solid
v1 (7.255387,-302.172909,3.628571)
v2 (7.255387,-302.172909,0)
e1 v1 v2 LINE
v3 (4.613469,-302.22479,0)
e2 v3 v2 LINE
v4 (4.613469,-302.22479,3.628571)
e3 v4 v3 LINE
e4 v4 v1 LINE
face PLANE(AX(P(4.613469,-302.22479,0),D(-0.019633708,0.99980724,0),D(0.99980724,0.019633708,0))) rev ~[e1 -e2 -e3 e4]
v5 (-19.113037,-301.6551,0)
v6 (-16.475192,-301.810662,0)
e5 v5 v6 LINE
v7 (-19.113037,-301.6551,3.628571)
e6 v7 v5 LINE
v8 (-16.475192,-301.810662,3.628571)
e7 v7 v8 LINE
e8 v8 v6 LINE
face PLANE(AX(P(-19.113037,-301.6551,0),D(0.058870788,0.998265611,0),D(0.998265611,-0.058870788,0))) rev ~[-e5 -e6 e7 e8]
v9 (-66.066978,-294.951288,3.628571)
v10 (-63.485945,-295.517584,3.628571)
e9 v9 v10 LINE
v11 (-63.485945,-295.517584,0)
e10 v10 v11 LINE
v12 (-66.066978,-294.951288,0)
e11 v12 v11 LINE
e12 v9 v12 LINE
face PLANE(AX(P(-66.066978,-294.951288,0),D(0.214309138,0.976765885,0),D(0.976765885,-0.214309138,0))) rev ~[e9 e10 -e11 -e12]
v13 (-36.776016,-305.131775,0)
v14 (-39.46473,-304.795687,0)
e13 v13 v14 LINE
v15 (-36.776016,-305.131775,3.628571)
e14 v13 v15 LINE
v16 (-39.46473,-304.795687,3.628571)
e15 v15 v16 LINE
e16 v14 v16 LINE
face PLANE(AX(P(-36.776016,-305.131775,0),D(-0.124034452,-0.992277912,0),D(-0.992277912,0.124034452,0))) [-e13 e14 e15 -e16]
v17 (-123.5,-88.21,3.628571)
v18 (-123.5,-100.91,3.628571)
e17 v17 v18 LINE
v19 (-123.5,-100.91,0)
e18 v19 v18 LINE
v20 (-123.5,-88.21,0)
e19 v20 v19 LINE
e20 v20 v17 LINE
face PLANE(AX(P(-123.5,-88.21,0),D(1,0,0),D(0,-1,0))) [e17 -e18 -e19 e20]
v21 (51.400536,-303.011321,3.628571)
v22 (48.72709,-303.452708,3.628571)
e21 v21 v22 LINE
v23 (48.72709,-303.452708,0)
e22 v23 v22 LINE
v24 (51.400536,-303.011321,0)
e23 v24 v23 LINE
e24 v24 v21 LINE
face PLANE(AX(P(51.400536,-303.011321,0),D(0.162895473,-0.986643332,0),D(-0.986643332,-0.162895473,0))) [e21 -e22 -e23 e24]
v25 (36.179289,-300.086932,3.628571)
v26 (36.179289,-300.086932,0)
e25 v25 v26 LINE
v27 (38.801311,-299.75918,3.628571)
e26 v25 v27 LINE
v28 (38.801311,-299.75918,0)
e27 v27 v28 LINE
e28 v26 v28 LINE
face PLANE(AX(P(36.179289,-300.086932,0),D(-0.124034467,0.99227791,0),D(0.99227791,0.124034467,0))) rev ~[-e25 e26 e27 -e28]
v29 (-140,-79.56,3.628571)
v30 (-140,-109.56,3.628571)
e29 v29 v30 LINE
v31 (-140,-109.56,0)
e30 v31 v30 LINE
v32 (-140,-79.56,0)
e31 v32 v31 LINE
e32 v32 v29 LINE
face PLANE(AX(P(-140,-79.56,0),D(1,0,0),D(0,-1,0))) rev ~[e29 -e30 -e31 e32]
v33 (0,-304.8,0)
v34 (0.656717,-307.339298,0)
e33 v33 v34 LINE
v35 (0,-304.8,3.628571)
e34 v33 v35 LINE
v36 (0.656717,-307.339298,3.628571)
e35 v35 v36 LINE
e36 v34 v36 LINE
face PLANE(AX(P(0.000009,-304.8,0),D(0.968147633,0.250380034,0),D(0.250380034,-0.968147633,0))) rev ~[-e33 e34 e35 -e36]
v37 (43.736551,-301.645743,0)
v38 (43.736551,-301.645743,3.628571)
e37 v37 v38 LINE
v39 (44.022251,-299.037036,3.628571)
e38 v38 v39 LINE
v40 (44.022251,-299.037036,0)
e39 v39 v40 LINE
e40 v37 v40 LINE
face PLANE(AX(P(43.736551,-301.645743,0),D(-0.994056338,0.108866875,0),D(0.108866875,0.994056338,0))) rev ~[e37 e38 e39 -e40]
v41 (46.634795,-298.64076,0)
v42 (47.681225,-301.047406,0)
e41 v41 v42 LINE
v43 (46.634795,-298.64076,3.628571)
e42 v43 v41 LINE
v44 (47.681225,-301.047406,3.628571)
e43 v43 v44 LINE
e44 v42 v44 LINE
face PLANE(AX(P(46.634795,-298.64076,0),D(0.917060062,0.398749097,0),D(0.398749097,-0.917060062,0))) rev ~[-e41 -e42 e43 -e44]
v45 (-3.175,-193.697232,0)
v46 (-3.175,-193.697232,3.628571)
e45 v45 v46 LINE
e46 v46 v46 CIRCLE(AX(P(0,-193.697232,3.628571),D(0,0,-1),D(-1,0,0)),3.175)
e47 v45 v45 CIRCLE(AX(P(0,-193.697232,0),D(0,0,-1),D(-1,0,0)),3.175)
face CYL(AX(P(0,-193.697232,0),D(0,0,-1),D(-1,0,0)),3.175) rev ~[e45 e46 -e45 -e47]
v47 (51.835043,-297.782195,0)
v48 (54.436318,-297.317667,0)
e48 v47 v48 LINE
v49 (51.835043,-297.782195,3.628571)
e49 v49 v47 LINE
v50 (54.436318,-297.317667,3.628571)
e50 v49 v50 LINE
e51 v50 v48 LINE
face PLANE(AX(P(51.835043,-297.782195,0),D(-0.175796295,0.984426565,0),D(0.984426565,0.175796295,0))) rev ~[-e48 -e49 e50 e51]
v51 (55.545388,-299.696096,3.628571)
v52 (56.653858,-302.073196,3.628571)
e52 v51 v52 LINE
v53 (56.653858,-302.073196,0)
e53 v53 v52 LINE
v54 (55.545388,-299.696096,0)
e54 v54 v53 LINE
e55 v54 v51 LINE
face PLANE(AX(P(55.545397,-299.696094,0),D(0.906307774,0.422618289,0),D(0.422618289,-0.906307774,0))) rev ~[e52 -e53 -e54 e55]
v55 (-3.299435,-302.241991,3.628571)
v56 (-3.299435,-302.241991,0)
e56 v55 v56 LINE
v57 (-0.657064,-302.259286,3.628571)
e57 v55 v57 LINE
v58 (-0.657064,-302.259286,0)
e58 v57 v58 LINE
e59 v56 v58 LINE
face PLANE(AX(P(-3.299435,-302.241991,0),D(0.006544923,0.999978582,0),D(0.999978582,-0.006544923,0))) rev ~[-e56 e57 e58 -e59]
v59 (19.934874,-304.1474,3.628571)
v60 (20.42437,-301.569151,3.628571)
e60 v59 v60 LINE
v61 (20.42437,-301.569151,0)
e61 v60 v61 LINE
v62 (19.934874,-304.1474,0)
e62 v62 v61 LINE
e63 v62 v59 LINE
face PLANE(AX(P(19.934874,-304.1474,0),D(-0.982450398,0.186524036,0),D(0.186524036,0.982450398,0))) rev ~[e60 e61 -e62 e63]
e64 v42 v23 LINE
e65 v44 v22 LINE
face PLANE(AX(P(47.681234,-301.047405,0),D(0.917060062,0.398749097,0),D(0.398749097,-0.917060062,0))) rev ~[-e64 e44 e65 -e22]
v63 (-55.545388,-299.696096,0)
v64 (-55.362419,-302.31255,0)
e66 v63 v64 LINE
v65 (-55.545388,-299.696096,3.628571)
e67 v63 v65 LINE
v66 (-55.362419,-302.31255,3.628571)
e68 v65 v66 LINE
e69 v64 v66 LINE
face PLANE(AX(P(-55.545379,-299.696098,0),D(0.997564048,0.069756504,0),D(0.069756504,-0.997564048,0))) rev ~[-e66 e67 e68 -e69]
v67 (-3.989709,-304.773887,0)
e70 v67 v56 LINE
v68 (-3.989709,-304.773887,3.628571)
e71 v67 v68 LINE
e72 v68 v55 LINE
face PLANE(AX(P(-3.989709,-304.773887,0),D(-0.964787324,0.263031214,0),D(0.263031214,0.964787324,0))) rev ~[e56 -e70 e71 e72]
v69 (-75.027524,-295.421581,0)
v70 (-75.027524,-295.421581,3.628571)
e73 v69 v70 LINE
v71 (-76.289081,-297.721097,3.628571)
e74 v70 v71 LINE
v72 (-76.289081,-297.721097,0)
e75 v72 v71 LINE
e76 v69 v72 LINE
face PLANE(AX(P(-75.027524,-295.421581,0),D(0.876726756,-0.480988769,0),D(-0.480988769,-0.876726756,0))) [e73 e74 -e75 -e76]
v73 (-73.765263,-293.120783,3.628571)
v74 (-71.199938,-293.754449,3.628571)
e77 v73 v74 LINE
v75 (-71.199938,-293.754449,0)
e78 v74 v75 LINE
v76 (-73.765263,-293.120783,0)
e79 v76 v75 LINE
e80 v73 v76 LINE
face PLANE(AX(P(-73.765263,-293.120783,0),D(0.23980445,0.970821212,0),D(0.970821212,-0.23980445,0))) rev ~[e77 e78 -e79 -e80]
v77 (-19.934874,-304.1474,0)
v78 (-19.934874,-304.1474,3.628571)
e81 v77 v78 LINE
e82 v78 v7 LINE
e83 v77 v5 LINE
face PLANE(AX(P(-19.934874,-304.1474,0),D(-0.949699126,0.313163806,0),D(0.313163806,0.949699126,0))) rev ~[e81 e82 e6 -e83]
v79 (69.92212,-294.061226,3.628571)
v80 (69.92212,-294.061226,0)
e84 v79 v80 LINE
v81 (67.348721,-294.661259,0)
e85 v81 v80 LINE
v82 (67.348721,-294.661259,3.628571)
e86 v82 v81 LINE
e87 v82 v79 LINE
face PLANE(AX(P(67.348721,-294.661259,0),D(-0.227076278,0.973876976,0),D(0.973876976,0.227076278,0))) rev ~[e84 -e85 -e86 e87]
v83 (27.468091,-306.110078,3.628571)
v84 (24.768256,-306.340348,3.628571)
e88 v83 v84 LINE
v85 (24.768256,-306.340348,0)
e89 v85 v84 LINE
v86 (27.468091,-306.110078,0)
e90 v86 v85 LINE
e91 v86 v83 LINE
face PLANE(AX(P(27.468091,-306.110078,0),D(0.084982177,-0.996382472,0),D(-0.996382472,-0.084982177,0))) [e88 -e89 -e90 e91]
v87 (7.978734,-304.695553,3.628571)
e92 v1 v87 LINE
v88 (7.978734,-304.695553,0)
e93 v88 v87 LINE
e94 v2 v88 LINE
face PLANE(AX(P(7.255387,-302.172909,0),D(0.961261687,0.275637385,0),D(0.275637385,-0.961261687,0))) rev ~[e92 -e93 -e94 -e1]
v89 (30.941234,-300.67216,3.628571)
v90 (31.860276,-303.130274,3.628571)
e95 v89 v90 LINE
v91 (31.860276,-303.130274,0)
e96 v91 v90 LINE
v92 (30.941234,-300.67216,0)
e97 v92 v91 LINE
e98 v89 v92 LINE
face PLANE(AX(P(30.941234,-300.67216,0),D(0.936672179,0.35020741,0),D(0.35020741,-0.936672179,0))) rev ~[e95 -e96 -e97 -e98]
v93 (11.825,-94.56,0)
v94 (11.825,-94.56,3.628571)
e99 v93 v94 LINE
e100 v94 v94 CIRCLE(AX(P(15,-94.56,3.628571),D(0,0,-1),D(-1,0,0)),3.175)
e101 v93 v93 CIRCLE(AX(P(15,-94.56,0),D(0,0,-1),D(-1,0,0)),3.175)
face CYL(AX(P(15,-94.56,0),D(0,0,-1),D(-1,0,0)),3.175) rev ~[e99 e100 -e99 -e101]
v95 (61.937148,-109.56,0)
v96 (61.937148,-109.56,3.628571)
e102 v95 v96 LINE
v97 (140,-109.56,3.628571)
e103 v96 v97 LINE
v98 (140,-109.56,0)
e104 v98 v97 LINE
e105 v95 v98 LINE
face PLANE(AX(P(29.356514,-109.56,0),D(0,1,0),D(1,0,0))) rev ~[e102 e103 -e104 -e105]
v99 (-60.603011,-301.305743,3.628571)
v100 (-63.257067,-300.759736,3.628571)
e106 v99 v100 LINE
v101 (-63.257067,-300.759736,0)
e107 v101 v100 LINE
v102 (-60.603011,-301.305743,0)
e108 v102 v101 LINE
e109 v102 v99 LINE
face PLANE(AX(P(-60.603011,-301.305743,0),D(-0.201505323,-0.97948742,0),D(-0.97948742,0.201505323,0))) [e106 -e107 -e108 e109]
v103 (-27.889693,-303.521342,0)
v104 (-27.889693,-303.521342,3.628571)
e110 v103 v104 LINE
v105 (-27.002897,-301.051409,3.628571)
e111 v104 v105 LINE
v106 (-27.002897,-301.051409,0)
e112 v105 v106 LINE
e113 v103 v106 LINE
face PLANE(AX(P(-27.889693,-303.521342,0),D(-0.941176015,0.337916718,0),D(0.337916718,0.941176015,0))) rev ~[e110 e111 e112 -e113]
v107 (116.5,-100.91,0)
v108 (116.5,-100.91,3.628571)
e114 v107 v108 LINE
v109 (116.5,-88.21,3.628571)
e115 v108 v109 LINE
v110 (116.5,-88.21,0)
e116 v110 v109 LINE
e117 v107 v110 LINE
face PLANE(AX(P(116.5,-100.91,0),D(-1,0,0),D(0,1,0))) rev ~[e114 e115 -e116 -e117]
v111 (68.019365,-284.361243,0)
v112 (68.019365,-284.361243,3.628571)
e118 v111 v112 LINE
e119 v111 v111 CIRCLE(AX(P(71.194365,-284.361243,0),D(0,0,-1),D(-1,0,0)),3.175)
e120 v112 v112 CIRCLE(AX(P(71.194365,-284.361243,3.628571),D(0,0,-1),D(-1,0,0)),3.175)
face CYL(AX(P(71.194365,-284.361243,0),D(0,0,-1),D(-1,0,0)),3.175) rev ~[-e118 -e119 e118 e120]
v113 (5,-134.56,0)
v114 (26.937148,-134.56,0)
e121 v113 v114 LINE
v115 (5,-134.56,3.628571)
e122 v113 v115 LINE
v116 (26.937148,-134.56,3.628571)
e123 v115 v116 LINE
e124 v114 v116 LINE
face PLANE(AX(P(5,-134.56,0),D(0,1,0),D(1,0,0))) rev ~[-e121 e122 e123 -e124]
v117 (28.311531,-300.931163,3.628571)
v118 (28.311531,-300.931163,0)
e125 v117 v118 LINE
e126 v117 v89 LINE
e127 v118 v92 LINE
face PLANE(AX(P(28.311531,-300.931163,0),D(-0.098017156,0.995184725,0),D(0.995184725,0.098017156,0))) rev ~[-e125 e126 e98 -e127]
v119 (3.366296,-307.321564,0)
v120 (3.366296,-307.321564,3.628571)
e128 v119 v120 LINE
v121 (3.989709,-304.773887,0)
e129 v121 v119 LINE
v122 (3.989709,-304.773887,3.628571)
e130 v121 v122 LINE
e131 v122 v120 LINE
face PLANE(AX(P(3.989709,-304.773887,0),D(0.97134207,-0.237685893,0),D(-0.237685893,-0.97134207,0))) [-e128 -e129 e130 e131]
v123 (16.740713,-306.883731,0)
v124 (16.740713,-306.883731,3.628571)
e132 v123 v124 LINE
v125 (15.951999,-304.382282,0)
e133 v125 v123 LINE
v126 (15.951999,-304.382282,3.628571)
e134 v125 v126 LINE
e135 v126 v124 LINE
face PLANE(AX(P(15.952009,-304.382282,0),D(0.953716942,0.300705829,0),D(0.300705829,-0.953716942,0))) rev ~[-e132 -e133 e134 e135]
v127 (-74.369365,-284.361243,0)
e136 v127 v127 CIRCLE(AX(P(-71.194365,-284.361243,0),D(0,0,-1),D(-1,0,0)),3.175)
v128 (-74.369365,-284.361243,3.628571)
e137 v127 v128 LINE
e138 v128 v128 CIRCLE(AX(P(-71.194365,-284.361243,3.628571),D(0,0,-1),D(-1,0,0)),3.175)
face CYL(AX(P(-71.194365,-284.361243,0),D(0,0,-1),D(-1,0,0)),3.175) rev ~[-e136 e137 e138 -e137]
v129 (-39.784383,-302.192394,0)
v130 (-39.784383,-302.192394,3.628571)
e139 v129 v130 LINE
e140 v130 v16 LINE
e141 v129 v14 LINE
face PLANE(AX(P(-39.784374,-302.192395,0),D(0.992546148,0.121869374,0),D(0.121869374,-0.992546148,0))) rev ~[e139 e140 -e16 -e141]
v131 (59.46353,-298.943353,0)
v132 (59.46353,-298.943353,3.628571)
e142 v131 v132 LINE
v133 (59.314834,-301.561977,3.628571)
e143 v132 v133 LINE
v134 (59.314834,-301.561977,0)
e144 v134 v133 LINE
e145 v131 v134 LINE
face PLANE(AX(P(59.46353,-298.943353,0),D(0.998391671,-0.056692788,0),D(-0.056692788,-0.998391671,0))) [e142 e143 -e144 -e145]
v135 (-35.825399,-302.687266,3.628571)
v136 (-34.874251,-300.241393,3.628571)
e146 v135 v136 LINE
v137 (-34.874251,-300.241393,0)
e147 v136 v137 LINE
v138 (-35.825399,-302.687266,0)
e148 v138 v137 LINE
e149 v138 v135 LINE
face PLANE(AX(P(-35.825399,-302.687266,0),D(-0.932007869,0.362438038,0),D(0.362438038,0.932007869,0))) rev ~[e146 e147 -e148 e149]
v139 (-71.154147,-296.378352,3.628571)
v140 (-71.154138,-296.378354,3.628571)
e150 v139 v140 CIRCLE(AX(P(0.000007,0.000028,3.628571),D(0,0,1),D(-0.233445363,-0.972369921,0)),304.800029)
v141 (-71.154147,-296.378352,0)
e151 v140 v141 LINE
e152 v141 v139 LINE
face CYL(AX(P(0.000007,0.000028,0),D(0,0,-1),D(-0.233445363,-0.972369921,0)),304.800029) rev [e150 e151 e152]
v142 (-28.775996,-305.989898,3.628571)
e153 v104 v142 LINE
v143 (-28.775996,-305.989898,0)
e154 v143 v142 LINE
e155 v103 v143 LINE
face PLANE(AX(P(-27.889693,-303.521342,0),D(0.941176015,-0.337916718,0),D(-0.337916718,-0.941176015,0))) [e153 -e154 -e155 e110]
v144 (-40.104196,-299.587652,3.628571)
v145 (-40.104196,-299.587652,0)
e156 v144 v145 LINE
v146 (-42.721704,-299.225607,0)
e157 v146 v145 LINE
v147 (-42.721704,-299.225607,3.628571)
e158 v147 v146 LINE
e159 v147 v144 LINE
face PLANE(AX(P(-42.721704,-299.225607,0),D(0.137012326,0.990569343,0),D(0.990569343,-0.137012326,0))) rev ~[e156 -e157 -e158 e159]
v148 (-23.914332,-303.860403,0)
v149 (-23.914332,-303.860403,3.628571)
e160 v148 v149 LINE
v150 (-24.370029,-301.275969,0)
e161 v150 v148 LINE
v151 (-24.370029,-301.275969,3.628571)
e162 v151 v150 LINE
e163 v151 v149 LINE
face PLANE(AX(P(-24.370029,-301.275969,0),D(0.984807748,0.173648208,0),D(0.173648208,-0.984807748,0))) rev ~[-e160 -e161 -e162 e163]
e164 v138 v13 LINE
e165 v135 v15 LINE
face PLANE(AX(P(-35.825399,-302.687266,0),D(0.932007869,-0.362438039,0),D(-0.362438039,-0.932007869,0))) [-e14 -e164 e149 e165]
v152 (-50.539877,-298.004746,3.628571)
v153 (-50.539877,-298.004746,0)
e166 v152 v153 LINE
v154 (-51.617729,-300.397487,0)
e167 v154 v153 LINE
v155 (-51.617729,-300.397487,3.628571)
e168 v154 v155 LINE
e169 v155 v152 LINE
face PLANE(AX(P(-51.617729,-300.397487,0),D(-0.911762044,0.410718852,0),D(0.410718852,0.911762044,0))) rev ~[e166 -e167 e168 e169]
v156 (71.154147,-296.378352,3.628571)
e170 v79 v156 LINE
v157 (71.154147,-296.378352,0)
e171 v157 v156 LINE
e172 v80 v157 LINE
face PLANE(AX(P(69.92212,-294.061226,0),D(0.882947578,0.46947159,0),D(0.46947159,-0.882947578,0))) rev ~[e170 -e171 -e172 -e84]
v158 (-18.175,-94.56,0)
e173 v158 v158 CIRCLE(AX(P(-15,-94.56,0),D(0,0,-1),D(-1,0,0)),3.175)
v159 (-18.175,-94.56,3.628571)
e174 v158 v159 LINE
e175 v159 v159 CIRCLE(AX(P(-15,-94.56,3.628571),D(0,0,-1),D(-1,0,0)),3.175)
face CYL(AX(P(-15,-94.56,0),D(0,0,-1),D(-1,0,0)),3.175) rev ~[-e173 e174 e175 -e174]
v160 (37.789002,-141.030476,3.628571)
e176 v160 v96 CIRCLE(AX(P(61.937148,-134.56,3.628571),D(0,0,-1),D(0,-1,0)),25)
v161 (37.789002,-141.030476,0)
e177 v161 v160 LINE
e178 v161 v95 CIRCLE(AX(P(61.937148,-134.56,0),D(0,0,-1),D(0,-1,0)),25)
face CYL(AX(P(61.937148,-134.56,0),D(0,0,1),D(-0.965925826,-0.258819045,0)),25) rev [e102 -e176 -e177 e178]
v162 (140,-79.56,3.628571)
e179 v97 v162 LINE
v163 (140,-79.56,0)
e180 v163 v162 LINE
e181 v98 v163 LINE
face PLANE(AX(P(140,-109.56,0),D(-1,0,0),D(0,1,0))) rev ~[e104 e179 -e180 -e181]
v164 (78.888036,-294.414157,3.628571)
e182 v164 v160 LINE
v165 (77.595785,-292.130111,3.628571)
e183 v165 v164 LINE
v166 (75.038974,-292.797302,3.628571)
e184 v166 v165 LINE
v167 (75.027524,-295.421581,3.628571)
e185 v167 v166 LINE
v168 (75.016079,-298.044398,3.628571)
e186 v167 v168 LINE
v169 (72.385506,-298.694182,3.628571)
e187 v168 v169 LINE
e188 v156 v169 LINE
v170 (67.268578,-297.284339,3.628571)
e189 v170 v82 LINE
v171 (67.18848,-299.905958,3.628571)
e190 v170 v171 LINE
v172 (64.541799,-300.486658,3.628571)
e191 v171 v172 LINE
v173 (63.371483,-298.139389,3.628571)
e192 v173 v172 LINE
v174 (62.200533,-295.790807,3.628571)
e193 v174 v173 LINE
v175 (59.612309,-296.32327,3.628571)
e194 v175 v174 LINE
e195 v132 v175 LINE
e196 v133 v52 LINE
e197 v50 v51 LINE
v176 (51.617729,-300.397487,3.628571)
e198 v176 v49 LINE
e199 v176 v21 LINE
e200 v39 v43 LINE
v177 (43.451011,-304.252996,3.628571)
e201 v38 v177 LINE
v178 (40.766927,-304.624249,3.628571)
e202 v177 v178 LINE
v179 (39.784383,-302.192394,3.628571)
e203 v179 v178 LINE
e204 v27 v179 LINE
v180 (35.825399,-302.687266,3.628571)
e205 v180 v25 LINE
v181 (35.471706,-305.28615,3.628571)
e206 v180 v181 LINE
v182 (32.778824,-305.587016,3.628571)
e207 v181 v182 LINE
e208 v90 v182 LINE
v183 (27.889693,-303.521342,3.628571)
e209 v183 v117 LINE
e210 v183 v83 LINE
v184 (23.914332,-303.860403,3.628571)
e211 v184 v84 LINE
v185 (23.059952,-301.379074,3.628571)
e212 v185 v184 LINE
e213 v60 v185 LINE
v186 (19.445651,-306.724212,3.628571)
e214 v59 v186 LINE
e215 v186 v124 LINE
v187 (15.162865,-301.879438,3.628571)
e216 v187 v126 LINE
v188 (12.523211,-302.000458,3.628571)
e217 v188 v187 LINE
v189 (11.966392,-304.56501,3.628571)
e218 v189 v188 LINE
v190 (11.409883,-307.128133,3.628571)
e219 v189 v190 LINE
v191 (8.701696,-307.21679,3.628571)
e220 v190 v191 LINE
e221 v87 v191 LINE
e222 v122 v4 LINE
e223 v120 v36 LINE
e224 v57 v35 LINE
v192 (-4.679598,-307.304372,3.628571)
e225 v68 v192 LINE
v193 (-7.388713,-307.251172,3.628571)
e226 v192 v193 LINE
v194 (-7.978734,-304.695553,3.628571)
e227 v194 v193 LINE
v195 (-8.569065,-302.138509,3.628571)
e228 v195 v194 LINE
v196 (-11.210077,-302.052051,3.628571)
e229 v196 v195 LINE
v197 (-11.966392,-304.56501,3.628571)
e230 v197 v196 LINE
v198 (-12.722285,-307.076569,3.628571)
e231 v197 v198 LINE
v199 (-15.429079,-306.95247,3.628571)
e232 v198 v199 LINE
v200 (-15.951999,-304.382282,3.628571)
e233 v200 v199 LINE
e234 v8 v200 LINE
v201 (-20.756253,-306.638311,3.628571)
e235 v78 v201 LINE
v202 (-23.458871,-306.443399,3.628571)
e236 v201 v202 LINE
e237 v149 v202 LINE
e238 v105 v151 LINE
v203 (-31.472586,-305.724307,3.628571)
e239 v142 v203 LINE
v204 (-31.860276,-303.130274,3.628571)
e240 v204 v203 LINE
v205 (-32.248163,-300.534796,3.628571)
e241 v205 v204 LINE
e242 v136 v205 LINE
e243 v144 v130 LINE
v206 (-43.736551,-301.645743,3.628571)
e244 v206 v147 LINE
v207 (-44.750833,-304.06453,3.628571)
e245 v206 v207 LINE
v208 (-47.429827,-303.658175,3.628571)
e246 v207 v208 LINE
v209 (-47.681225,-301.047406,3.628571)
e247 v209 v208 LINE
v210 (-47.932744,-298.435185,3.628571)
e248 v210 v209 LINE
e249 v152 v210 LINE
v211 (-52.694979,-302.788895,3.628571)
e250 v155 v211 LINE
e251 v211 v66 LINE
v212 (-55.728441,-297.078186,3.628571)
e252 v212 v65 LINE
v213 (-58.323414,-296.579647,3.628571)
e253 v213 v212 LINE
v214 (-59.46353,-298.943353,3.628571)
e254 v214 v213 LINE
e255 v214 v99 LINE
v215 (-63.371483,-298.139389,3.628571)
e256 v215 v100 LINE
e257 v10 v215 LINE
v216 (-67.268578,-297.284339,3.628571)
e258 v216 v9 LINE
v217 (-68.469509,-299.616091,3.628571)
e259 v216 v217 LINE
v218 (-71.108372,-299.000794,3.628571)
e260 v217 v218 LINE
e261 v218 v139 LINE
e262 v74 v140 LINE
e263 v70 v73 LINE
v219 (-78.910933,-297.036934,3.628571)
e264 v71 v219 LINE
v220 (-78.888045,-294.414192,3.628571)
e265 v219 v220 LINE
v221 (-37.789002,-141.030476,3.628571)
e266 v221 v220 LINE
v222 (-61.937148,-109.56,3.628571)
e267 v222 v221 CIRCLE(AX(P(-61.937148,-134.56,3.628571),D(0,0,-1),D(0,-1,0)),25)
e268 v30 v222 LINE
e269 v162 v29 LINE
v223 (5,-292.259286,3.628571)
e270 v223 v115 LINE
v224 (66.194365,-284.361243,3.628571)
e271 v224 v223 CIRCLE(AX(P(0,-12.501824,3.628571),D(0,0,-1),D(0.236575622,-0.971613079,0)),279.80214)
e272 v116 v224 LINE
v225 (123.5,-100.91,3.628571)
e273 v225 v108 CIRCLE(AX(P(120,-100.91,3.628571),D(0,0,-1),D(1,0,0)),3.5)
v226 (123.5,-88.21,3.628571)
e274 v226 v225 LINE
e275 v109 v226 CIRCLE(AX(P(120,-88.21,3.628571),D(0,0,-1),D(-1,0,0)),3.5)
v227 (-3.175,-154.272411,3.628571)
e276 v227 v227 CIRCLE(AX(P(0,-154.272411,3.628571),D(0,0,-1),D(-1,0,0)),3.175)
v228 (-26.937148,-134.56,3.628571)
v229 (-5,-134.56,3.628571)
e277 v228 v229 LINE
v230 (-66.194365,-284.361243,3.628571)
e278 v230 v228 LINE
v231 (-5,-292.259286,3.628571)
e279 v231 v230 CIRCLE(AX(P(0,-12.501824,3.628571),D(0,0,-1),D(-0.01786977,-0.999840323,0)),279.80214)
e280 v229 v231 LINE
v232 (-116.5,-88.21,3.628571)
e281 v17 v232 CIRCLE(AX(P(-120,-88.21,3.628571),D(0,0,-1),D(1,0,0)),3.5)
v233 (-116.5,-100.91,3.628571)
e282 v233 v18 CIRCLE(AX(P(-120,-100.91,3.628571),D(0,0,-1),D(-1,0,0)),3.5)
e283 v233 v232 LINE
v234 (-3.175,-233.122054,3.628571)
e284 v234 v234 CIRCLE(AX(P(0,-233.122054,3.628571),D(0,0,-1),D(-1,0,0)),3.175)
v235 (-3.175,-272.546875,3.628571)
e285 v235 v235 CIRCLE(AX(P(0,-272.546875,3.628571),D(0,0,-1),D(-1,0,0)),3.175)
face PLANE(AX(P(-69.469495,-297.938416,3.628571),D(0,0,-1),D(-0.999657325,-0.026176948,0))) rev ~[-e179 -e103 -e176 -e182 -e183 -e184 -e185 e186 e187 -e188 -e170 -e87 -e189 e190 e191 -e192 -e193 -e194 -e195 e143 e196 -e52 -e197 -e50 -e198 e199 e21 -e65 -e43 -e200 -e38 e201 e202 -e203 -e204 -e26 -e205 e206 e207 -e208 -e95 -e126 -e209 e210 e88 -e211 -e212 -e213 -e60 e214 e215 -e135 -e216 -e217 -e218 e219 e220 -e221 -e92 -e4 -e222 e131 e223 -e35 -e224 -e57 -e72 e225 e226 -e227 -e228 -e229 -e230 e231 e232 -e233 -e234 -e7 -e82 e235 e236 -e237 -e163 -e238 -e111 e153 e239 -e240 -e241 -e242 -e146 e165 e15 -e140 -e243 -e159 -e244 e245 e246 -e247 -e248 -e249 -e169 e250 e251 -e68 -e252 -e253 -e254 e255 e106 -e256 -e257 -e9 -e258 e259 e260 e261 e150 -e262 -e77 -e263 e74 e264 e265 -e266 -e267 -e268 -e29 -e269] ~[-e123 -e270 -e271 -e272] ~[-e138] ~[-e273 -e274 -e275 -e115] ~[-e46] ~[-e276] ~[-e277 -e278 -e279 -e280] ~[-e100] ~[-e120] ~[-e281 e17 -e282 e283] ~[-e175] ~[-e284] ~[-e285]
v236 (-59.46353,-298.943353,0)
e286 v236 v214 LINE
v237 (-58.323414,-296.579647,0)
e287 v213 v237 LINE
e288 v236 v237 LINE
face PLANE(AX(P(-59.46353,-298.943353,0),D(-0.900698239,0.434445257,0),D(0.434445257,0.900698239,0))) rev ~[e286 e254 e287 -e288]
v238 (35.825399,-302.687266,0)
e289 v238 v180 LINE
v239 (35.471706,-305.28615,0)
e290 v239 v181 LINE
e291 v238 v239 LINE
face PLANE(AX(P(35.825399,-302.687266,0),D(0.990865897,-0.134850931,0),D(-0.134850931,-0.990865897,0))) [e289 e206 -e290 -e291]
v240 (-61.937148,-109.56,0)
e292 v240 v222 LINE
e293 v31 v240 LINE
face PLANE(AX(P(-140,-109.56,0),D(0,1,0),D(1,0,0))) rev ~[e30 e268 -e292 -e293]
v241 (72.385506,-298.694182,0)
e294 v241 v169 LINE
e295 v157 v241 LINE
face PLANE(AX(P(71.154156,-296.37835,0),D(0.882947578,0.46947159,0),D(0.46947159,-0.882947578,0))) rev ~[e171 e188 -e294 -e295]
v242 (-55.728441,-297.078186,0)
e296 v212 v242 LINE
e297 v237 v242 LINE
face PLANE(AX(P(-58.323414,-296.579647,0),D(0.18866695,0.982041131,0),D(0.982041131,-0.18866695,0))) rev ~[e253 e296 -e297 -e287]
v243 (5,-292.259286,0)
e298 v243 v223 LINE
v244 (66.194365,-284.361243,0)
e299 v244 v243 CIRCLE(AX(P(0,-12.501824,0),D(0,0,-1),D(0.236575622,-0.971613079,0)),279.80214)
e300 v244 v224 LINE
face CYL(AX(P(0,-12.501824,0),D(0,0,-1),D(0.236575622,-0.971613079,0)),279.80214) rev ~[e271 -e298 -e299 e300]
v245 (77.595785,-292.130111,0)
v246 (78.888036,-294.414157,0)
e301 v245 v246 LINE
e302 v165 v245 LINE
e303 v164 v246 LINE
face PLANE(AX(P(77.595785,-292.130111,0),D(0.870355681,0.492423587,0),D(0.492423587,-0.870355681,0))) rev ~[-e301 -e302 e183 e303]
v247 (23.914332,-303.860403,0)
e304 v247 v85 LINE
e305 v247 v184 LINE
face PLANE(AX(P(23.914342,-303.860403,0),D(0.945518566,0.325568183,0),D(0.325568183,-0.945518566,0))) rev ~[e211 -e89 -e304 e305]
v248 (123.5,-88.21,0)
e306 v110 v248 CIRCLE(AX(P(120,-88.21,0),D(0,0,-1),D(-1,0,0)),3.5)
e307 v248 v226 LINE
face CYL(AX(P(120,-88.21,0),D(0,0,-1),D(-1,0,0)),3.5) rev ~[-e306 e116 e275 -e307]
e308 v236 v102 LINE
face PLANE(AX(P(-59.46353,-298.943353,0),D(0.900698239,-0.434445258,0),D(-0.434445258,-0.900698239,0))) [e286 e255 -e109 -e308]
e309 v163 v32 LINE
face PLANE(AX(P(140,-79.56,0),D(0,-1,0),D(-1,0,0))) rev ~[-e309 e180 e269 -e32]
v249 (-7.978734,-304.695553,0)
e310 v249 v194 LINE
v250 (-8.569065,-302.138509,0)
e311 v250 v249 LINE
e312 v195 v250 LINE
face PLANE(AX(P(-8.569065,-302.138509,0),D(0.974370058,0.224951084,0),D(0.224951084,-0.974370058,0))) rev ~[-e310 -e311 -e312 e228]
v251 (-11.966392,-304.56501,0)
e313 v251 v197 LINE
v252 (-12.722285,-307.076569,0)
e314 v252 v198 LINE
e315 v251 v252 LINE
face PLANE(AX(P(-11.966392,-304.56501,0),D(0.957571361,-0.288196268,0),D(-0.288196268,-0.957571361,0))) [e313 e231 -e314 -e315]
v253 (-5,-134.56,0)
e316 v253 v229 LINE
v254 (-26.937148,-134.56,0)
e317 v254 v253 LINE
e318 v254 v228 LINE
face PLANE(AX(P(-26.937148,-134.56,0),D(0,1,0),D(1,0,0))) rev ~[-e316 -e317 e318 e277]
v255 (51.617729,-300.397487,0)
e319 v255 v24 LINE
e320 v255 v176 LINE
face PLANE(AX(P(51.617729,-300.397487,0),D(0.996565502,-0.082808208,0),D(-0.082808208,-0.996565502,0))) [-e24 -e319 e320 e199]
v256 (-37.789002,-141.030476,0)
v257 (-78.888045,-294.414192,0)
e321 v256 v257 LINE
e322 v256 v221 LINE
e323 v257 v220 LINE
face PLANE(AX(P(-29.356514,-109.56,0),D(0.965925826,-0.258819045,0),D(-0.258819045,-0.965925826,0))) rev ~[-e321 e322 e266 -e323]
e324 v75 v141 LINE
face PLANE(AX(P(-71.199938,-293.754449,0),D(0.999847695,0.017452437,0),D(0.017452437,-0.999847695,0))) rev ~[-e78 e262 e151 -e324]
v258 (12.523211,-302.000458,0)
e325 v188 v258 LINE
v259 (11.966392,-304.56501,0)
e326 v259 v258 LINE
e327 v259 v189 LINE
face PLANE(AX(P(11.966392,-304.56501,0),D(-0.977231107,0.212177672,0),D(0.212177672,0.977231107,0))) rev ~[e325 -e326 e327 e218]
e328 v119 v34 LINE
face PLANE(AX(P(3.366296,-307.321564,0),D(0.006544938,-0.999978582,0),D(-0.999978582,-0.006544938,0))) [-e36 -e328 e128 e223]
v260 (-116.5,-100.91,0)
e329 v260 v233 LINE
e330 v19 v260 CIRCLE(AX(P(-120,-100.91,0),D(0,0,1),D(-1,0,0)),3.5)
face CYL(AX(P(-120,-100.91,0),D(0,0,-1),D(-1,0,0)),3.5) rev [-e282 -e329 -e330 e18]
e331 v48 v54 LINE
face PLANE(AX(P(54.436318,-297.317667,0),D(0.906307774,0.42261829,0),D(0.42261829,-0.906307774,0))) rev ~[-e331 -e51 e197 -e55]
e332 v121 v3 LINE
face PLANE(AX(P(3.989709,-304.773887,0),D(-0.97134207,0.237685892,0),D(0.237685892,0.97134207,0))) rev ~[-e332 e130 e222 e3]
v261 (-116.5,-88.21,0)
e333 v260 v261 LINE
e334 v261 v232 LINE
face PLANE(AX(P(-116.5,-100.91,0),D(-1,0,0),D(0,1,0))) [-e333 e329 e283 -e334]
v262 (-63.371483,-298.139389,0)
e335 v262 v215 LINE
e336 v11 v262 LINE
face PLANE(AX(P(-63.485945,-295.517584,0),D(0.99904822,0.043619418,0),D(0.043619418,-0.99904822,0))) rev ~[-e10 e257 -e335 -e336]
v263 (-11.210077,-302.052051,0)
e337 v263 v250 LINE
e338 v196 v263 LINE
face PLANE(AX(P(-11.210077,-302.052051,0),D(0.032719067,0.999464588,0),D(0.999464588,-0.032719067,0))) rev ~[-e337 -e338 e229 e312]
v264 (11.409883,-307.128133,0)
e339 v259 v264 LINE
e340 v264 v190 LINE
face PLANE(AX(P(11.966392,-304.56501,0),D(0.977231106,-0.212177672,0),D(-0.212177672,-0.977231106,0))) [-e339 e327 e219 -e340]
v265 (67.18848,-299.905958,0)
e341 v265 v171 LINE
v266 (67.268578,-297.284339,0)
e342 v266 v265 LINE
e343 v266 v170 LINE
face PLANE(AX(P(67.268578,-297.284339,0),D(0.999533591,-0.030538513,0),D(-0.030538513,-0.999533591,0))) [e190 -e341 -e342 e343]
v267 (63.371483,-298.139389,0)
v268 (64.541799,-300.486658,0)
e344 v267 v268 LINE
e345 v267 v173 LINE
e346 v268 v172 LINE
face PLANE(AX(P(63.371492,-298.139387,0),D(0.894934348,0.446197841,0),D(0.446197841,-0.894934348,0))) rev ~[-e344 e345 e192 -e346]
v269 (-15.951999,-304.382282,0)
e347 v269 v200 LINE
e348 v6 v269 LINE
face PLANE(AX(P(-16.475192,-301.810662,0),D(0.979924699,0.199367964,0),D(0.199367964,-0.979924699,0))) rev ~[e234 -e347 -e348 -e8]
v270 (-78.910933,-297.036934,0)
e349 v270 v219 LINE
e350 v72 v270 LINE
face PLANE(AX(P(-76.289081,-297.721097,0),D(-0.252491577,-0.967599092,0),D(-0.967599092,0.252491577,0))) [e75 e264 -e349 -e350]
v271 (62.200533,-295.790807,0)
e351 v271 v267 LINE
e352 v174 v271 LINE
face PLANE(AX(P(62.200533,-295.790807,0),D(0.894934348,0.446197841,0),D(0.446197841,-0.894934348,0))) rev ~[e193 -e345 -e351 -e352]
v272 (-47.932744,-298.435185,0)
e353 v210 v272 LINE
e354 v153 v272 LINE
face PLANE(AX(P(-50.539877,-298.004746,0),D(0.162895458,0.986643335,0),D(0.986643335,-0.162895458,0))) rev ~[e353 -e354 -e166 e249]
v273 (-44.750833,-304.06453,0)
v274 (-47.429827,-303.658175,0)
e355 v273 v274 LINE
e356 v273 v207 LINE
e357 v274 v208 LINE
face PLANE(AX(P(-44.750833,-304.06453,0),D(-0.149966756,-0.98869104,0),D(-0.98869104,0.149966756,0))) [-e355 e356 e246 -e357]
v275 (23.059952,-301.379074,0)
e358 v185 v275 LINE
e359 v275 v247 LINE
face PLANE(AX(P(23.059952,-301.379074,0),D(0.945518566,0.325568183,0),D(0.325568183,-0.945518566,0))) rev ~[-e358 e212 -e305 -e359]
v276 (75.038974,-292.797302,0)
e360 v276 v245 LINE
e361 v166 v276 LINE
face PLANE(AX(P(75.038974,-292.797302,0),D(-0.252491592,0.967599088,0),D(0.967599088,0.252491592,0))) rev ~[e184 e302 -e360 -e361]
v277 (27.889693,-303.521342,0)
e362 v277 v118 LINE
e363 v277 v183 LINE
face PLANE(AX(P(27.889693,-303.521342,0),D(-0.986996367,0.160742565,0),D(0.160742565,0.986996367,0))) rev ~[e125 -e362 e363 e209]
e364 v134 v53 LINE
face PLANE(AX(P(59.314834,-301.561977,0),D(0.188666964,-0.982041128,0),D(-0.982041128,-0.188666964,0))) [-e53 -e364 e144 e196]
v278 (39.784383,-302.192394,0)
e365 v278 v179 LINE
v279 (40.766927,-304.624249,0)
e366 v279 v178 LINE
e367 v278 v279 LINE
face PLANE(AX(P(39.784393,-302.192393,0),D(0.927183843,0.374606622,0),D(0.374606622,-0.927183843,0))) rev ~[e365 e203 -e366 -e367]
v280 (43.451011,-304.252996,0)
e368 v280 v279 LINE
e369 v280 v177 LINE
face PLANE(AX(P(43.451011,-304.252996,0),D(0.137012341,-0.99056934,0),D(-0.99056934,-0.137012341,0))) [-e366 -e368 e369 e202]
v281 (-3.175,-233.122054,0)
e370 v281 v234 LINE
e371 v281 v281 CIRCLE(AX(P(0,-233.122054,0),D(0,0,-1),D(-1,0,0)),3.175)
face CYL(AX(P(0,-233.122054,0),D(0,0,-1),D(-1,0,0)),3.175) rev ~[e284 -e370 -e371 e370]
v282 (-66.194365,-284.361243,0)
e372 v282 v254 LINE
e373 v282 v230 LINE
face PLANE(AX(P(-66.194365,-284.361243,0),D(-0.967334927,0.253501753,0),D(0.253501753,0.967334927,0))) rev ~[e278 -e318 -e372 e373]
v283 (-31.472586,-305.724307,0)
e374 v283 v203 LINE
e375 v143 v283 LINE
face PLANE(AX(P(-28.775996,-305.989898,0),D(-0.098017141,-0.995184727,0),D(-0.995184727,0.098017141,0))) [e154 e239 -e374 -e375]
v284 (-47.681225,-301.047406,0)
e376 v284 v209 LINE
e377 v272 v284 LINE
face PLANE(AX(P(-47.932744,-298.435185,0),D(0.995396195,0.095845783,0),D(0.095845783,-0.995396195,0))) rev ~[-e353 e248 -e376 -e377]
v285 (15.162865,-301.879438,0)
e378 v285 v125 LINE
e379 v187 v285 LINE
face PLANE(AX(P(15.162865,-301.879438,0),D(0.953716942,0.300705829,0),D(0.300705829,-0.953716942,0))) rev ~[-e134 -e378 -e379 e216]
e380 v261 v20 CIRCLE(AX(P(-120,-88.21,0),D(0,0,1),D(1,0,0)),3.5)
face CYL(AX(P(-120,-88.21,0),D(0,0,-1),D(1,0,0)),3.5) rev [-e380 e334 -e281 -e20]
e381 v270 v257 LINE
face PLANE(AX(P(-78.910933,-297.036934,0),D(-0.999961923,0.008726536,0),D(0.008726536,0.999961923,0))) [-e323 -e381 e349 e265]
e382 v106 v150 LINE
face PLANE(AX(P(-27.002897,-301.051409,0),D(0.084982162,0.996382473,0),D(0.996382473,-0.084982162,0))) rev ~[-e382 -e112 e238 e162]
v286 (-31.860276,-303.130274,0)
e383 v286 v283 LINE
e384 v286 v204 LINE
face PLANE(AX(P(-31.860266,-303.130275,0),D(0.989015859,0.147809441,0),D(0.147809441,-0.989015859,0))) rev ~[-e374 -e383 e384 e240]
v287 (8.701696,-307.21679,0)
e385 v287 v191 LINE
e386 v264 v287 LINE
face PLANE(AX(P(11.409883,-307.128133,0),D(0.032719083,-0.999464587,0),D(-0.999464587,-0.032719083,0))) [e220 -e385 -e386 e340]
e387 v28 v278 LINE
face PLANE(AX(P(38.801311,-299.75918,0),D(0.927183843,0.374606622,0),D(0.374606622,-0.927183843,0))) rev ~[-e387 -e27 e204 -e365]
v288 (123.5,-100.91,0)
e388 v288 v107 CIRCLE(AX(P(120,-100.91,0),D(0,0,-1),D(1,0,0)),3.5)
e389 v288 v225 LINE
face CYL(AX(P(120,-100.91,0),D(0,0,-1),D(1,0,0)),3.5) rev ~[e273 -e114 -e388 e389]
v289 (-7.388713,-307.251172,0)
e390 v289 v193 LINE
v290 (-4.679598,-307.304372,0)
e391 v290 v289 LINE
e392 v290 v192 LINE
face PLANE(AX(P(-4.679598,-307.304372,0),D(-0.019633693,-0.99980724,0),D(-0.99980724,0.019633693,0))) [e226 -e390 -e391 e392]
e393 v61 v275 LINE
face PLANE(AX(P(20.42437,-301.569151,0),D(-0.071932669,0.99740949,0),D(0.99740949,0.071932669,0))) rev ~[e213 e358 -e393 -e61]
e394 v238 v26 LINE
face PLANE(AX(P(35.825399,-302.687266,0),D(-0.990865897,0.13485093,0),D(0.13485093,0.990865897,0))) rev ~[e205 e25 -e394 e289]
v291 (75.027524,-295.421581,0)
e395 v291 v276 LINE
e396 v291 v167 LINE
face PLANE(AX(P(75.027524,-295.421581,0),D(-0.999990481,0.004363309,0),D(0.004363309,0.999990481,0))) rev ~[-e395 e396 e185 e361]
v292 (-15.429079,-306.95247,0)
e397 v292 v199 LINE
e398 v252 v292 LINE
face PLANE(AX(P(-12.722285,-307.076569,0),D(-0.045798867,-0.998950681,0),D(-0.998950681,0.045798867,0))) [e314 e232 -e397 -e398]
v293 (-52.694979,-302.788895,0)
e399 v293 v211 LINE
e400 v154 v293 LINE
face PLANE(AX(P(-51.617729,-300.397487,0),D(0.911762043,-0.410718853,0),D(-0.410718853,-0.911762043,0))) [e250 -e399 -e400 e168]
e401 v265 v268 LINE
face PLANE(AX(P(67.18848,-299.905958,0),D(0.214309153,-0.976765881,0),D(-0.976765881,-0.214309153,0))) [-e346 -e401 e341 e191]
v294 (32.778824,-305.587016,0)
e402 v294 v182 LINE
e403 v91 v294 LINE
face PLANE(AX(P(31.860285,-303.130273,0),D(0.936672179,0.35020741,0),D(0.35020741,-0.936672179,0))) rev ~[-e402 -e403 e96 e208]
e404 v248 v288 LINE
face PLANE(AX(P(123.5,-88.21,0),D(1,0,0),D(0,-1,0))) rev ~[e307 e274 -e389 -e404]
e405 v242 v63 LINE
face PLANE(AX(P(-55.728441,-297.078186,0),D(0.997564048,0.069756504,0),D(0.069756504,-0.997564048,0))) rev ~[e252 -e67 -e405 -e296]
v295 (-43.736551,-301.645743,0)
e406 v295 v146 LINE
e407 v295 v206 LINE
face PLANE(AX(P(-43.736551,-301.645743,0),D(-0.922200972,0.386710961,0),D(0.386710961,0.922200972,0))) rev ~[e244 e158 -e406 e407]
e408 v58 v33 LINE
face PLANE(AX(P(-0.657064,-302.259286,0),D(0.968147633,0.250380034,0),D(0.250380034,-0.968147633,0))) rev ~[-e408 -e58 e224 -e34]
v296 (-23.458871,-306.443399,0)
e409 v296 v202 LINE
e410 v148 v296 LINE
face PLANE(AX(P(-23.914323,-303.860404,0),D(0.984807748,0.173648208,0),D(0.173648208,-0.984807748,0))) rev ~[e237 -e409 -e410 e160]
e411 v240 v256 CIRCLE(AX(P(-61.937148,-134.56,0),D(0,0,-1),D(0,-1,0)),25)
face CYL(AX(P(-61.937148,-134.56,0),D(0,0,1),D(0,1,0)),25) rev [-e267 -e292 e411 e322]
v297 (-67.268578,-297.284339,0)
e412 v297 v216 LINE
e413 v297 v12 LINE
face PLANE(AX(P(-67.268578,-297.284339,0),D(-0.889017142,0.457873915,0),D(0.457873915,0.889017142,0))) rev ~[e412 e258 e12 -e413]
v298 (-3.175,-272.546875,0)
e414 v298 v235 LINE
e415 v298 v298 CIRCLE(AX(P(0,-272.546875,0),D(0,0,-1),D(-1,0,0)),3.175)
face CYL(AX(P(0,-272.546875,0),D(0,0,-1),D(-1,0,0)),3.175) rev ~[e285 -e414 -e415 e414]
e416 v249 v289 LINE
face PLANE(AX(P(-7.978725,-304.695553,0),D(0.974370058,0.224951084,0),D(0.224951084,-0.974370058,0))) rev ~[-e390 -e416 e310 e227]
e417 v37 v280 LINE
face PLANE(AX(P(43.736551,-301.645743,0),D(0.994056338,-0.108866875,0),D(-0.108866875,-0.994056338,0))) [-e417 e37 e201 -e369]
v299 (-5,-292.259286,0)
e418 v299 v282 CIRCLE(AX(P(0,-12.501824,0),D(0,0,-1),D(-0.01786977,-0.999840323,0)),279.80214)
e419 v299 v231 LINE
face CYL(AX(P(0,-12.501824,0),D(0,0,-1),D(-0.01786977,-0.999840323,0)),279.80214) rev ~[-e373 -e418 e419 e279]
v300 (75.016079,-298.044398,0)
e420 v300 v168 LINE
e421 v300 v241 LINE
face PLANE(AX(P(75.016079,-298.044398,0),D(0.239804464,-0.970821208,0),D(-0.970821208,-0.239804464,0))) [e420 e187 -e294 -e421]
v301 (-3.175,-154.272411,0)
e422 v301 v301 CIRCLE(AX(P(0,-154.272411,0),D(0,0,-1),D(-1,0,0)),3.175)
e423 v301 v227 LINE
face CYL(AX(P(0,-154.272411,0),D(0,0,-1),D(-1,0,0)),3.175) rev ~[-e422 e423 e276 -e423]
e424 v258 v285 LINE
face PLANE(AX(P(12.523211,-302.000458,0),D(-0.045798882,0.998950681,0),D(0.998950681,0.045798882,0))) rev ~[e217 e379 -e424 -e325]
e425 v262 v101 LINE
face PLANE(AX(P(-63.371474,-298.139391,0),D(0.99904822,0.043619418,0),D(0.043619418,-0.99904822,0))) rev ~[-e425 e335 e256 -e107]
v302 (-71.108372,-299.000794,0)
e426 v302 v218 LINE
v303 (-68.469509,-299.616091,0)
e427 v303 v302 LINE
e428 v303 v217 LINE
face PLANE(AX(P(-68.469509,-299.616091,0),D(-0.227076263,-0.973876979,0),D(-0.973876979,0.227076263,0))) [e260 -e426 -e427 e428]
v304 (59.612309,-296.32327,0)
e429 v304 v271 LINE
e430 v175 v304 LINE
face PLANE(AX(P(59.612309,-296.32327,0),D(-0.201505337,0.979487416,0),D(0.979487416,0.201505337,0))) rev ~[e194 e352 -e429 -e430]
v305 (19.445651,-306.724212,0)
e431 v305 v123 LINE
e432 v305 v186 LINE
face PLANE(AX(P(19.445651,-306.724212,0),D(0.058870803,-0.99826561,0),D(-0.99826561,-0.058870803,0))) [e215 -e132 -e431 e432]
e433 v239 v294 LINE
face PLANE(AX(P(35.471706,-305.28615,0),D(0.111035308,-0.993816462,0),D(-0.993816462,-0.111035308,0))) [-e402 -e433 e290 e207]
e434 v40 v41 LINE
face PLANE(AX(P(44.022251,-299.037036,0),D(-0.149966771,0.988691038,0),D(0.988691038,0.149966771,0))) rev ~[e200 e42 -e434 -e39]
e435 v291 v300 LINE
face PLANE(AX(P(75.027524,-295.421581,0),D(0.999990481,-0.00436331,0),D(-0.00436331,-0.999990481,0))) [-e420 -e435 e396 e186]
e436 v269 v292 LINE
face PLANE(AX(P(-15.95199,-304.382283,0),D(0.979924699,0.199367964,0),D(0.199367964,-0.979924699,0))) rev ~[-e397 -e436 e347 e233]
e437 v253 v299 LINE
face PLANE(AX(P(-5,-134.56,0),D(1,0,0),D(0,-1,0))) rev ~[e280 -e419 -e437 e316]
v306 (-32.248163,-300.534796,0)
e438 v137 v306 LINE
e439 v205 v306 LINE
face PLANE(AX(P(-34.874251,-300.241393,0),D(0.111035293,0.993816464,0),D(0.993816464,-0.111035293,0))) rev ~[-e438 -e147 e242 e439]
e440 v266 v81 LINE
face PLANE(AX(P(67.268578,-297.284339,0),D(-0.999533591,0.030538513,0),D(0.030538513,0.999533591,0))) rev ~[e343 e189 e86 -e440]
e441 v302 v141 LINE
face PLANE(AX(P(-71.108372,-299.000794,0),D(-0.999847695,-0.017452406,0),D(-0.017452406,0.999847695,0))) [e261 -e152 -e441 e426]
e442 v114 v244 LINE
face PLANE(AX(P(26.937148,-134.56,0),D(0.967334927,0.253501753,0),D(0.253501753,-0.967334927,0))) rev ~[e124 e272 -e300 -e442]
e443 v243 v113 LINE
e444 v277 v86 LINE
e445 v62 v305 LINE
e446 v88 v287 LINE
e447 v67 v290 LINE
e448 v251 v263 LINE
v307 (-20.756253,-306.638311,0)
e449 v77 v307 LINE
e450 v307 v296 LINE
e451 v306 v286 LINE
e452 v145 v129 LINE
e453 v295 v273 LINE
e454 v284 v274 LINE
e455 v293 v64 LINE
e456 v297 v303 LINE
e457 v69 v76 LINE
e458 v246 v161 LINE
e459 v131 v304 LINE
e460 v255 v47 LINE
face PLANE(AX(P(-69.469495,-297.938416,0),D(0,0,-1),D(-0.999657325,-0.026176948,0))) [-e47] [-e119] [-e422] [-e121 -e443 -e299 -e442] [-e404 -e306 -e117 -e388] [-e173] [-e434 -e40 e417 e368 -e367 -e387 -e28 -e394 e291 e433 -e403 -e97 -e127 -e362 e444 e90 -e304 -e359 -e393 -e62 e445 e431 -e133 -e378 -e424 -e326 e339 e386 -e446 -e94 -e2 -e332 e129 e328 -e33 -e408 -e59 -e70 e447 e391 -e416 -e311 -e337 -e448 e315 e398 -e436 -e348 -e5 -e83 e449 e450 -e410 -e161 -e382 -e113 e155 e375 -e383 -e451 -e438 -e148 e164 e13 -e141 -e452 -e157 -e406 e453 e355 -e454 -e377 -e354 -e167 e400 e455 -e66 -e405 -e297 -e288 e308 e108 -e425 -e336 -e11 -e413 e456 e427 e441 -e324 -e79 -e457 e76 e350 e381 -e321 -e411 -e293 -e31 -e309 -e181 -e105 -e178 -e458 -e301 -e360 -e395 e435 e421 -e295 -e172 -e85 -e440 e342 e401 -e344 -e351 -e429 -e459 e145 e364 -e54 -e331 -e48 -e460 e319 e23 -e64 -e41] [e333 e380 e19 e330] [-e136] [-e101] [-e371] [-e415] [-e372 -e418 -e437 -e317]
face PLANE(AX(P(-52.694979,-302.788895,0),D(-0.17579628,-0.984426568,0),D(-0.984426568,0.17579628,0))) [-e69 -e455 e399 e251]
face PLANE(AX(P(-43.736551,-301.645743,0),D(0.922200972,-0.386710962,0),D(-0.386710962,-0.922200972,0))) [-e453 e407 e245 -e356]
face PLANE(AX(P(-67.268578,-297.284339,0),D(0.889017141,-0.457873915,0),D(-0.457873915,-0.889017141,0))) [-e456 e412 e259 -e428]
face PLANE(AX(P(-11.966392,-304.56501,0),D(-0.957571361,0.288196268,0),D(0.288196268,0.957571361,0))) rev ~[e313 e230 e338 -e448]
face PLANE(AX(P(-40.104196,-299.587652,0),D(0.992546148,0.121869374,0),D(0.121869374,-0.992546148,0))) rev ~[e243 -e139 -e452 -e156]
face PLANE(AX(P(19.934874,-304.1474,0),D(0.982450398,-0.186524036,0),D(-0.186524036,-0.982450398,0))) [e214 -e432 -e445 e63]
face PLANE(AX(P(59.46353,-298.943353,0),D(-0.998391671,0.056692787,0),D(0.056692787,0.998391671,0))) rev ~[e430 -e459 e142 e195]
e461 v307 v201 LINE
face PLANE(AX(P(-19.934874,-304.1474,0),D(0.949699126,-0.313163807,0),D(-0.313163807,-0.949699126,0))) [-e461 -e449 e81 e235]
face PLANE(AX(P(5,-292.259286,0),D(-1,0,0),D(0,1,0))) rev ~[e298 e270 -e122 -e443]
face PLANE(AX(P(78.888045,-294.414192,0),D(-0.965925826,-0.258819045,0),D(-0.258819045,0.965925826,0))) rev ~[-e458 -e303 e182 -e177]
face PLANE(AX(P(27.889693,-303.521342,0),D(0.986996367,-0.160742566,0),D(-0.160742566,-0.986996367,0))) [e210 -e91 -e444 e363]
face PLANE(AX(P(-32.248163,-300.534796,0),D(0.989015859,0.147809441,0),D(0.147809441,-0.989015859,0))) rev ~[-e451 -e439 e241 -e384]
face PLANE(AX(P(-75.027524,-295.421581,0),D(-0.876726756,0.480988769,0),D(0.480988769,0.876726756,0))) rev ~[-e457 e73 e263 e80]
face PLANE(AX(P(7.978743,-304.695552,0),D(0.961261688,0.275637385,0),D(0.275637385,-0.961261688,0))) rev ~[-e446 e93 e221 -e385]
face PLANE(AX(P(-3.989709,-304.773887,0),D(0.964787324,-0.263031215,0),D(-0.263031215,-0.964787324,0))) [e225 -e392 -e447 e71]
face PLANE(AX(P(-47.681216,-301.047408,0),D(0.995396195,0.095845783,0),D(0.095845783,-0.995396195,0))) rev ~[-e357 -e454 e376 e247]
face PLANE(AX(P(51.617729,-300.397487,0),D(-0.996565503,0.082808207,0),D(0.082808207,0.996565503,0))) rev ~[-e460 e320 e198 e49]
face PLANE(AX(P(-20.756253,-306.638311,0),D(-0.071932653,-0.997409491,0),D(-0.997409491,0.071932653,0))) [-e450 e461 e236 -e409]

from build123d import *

# Parameters (mm, degrees)
BOSS_EXTRUDE2_DEPTH = 3.628571429
FILLET1_R           = 25
BOSS_EXTRUDE4_DEPTH = 3.628571429
CUT_EXTRUDE2_DEPTH  = 336.434355024
CIRPATTERN8_COUNT   = 20
CIRPATTERN8_ANGLE   = 28.5
SKETCH5_R           = 3.175
CUT_EXTRUDE3_DEPTH  = 338.743409804
SKETCH17_R          = 3.175
CUT_EXTRUDE4_DEPTH  = 338.743409804


with BuildPart() as part:
    # Sketch3 → Boss-Extrude2 (new body)
    with BuildSketch(Plane.XY):
        with BuildLine():
            Line((-140, -79.56), (-140, -109.56))
            Line((-140, -109.56), (-29.356513523, -109.56))
            Line((-29.356513523, -109.56), (-78.888044947, -294.414191853))
            ThreePointArc((-78.888044947, -294.414191853), (0, -304.8), (78.888044947, -294.414191853))
            Line((78.888044947, -294.414191853), (29.356513523, -109.56))
            Line((29.356513523, -109.56), (140, -109.56))
            Line((140, -109.56), (140, -79.56))
            Line((140, -79.56), (-140, -79.56))
        make_face()
    extrude(amount=BOSS_EXTRUDE2_DEPTH)

    # Fillet1
    fillet1_edges = [part.edges().sort_by_distance(p)[0] for p in [
        (29.356513523, -109.56, 1.814285714),
        (-29.356513523, -109.56, 1.814285714),
    ]]
    fillet(fillet1_edges, radius=FILLET1_R)

    # Sketch14 → Boss-Extrude4 (add)
    with BuildSketch(Plane(origin=(0, 0, 0), x_dir=(-1, 0, 0), z_dir=(0, 0, -1))):
        with BuildLine():
            Line((78.910933272, -297.036934084), (78.888044947, -294.414191853))
            ThreePointArc((78.888044947, -294.414191853), (76.959432674, -294.924203351), (75.027523715, -295.421581279))
            Line((75.027523715, -295.421581279), (76.289081309, -297.721097125))
            Line((76.289081309, -297.721097125), (78.910933272, -297.036934084))
        make_face()
    boss_extrude4 = extrude(amount=-BOSS_EXTRUDE4_DEPTH)

    # Sketch16 → Cut-Extrude2 (cut, symmetric)
    with BuildSketch(Plane(origin=(0, 0, 0), x_dir=(-1, 0, 0), z_dir=(0, 0, -1))):
        Polygon((372.937709596, -838.440145613), (75.027523715, -295.421581279), (73.765262731, -293.12078332), (71.19993834, -293.754449124), (71.154137831, -296.378353915), (60.344615656, -915.654378233), (357.400151379, -2118.250141136), (669.993245319, -2041.035908516), align=None)
    cut_extrude2 = extrude(amount=CUT_EXTRUDE2_DEPTH, both=True, mode=Mode.SUBTRACT)

    # CirPattern8: Boss-Extrude4, Cut-Extrude2 ×20 about axis
    cirpattern8_axis = Axis((0, 0, 0), (0, 0, 1))
    add([boss_extrude4.rotate(cirpattern8_axis, i * CIRPATTERN8_ANGLE / (CIRPATTERN8_COUNT - 1)) for i in range(1, CIRPATTERN8_COUNT)])
    add([cut_extrude2.rotate(cirpattern8_axis, i * CIRPATTERN8_ANGLE / (CIRPATTERN8_COUNT - 1)) for i in range(1, CIRPATTERN8_COUNT)], mode=Mode.SUBTRACT)

    # Sketch5 → Cut-Extrude3 (cut, through all)
    with BuildSketch(Plane(origin=(0, 0, 0), x_dir=(-1, 0, 0), z_dir=(0, 0, -1))):
        with Locations((-15, -94.56)):
            Circle(SKETCH5_R)
        with Locations((15, -94.56)):
            Circle(SKETCH5_R)
        with BuildLine():
            Line((-123.5, -94.56), (-123.5, -100.91))
            ThreePointArc((-123.5, -100.91), (-120, -104.41), (-116.5, -100.91))
            Line((-116.5, -100.91), (-116.5, -94.56))
            Line((-116.5, -94.56), (-116.5, -88.21))
            ThreePointArc((-116.5, -88.21), (-120, -84.71), (-123.5, -88.21))
            Line((-123.5, -88.21), (-123.5, -94.56))
        make_face()
        with BuildLine():
            Line((116.5, -94.56), (116.5, -88.21))
            ThreePointArc((116.5, -88.21), (120, -84.71), (123.5, -88.21))
            Line((123.5, -88.21), (123.5, -94.56))
            Line((123.5, -94.56), (123.5, -100.91))
            ThreePointArc((123.5, -100.91), (120, -104.41), (116.5, -100.91))
            Line((116.5, -100.91), (116.5, -94.56))
        make_face()
    extrude(amount=-CUT_EXTRUDE3_DEPTH, mode=Mode.SUBTRACT)

    # Sketch17 → Cut-Extrude4 (cut, through all)
    with BuildSketch(Plane(origin=(0, 0, 0), x_dir=(-1, 0, 0), z_dir=(0, 0, -1))):
        with BuildLine():
            Line((66.194365296, -284.361242536), (26.937147844, -134.56))
            Line((26.937147844, -134.56), (5, -134.56))
            Line((5, -134.56), (5, -292.259285824))
            ThreePointArc((5, -292.259285824), (35.815557854, -290.00224429), (66.194365296, -284.361242536))
        make_face()
        with BuildLine():
            ThreePointArc((-66.194365296, -284.361242536), (-35.815557854, -290.00224429), (-5, -292.259285824))
            Line((-5, -292.259285824), (-5, -134.56))
            Line((-5, -134.56), (-26.937147844, -134.56))
            Line((-26.937147844, -134.56), (-66.194365296, -284.361242536))
        make_face()
        with Locations((0, -272.546875096)):
            Circle(SKETCH17_R)
        with Locations((0, -233.12205364)):
            Circle(SKETCH17_R)
        with Locations((0, -193.697232184)):
            Circle(SKETCH17_R)
        with Locations((0, -154.272410728)):
            Circle(SKETCH17_R)
        with Locations((-71.194365296, -284.361242536)):
            Circle(SKETCH17_R)
        with Locations((71.194365296, -284.361242536)):
            Circle(SKETCH17_R)
    extrude(amount=-CUT_EXTRUDE4_DEPTH, mode=Mode.SUBTRACT)


solid = part.part
